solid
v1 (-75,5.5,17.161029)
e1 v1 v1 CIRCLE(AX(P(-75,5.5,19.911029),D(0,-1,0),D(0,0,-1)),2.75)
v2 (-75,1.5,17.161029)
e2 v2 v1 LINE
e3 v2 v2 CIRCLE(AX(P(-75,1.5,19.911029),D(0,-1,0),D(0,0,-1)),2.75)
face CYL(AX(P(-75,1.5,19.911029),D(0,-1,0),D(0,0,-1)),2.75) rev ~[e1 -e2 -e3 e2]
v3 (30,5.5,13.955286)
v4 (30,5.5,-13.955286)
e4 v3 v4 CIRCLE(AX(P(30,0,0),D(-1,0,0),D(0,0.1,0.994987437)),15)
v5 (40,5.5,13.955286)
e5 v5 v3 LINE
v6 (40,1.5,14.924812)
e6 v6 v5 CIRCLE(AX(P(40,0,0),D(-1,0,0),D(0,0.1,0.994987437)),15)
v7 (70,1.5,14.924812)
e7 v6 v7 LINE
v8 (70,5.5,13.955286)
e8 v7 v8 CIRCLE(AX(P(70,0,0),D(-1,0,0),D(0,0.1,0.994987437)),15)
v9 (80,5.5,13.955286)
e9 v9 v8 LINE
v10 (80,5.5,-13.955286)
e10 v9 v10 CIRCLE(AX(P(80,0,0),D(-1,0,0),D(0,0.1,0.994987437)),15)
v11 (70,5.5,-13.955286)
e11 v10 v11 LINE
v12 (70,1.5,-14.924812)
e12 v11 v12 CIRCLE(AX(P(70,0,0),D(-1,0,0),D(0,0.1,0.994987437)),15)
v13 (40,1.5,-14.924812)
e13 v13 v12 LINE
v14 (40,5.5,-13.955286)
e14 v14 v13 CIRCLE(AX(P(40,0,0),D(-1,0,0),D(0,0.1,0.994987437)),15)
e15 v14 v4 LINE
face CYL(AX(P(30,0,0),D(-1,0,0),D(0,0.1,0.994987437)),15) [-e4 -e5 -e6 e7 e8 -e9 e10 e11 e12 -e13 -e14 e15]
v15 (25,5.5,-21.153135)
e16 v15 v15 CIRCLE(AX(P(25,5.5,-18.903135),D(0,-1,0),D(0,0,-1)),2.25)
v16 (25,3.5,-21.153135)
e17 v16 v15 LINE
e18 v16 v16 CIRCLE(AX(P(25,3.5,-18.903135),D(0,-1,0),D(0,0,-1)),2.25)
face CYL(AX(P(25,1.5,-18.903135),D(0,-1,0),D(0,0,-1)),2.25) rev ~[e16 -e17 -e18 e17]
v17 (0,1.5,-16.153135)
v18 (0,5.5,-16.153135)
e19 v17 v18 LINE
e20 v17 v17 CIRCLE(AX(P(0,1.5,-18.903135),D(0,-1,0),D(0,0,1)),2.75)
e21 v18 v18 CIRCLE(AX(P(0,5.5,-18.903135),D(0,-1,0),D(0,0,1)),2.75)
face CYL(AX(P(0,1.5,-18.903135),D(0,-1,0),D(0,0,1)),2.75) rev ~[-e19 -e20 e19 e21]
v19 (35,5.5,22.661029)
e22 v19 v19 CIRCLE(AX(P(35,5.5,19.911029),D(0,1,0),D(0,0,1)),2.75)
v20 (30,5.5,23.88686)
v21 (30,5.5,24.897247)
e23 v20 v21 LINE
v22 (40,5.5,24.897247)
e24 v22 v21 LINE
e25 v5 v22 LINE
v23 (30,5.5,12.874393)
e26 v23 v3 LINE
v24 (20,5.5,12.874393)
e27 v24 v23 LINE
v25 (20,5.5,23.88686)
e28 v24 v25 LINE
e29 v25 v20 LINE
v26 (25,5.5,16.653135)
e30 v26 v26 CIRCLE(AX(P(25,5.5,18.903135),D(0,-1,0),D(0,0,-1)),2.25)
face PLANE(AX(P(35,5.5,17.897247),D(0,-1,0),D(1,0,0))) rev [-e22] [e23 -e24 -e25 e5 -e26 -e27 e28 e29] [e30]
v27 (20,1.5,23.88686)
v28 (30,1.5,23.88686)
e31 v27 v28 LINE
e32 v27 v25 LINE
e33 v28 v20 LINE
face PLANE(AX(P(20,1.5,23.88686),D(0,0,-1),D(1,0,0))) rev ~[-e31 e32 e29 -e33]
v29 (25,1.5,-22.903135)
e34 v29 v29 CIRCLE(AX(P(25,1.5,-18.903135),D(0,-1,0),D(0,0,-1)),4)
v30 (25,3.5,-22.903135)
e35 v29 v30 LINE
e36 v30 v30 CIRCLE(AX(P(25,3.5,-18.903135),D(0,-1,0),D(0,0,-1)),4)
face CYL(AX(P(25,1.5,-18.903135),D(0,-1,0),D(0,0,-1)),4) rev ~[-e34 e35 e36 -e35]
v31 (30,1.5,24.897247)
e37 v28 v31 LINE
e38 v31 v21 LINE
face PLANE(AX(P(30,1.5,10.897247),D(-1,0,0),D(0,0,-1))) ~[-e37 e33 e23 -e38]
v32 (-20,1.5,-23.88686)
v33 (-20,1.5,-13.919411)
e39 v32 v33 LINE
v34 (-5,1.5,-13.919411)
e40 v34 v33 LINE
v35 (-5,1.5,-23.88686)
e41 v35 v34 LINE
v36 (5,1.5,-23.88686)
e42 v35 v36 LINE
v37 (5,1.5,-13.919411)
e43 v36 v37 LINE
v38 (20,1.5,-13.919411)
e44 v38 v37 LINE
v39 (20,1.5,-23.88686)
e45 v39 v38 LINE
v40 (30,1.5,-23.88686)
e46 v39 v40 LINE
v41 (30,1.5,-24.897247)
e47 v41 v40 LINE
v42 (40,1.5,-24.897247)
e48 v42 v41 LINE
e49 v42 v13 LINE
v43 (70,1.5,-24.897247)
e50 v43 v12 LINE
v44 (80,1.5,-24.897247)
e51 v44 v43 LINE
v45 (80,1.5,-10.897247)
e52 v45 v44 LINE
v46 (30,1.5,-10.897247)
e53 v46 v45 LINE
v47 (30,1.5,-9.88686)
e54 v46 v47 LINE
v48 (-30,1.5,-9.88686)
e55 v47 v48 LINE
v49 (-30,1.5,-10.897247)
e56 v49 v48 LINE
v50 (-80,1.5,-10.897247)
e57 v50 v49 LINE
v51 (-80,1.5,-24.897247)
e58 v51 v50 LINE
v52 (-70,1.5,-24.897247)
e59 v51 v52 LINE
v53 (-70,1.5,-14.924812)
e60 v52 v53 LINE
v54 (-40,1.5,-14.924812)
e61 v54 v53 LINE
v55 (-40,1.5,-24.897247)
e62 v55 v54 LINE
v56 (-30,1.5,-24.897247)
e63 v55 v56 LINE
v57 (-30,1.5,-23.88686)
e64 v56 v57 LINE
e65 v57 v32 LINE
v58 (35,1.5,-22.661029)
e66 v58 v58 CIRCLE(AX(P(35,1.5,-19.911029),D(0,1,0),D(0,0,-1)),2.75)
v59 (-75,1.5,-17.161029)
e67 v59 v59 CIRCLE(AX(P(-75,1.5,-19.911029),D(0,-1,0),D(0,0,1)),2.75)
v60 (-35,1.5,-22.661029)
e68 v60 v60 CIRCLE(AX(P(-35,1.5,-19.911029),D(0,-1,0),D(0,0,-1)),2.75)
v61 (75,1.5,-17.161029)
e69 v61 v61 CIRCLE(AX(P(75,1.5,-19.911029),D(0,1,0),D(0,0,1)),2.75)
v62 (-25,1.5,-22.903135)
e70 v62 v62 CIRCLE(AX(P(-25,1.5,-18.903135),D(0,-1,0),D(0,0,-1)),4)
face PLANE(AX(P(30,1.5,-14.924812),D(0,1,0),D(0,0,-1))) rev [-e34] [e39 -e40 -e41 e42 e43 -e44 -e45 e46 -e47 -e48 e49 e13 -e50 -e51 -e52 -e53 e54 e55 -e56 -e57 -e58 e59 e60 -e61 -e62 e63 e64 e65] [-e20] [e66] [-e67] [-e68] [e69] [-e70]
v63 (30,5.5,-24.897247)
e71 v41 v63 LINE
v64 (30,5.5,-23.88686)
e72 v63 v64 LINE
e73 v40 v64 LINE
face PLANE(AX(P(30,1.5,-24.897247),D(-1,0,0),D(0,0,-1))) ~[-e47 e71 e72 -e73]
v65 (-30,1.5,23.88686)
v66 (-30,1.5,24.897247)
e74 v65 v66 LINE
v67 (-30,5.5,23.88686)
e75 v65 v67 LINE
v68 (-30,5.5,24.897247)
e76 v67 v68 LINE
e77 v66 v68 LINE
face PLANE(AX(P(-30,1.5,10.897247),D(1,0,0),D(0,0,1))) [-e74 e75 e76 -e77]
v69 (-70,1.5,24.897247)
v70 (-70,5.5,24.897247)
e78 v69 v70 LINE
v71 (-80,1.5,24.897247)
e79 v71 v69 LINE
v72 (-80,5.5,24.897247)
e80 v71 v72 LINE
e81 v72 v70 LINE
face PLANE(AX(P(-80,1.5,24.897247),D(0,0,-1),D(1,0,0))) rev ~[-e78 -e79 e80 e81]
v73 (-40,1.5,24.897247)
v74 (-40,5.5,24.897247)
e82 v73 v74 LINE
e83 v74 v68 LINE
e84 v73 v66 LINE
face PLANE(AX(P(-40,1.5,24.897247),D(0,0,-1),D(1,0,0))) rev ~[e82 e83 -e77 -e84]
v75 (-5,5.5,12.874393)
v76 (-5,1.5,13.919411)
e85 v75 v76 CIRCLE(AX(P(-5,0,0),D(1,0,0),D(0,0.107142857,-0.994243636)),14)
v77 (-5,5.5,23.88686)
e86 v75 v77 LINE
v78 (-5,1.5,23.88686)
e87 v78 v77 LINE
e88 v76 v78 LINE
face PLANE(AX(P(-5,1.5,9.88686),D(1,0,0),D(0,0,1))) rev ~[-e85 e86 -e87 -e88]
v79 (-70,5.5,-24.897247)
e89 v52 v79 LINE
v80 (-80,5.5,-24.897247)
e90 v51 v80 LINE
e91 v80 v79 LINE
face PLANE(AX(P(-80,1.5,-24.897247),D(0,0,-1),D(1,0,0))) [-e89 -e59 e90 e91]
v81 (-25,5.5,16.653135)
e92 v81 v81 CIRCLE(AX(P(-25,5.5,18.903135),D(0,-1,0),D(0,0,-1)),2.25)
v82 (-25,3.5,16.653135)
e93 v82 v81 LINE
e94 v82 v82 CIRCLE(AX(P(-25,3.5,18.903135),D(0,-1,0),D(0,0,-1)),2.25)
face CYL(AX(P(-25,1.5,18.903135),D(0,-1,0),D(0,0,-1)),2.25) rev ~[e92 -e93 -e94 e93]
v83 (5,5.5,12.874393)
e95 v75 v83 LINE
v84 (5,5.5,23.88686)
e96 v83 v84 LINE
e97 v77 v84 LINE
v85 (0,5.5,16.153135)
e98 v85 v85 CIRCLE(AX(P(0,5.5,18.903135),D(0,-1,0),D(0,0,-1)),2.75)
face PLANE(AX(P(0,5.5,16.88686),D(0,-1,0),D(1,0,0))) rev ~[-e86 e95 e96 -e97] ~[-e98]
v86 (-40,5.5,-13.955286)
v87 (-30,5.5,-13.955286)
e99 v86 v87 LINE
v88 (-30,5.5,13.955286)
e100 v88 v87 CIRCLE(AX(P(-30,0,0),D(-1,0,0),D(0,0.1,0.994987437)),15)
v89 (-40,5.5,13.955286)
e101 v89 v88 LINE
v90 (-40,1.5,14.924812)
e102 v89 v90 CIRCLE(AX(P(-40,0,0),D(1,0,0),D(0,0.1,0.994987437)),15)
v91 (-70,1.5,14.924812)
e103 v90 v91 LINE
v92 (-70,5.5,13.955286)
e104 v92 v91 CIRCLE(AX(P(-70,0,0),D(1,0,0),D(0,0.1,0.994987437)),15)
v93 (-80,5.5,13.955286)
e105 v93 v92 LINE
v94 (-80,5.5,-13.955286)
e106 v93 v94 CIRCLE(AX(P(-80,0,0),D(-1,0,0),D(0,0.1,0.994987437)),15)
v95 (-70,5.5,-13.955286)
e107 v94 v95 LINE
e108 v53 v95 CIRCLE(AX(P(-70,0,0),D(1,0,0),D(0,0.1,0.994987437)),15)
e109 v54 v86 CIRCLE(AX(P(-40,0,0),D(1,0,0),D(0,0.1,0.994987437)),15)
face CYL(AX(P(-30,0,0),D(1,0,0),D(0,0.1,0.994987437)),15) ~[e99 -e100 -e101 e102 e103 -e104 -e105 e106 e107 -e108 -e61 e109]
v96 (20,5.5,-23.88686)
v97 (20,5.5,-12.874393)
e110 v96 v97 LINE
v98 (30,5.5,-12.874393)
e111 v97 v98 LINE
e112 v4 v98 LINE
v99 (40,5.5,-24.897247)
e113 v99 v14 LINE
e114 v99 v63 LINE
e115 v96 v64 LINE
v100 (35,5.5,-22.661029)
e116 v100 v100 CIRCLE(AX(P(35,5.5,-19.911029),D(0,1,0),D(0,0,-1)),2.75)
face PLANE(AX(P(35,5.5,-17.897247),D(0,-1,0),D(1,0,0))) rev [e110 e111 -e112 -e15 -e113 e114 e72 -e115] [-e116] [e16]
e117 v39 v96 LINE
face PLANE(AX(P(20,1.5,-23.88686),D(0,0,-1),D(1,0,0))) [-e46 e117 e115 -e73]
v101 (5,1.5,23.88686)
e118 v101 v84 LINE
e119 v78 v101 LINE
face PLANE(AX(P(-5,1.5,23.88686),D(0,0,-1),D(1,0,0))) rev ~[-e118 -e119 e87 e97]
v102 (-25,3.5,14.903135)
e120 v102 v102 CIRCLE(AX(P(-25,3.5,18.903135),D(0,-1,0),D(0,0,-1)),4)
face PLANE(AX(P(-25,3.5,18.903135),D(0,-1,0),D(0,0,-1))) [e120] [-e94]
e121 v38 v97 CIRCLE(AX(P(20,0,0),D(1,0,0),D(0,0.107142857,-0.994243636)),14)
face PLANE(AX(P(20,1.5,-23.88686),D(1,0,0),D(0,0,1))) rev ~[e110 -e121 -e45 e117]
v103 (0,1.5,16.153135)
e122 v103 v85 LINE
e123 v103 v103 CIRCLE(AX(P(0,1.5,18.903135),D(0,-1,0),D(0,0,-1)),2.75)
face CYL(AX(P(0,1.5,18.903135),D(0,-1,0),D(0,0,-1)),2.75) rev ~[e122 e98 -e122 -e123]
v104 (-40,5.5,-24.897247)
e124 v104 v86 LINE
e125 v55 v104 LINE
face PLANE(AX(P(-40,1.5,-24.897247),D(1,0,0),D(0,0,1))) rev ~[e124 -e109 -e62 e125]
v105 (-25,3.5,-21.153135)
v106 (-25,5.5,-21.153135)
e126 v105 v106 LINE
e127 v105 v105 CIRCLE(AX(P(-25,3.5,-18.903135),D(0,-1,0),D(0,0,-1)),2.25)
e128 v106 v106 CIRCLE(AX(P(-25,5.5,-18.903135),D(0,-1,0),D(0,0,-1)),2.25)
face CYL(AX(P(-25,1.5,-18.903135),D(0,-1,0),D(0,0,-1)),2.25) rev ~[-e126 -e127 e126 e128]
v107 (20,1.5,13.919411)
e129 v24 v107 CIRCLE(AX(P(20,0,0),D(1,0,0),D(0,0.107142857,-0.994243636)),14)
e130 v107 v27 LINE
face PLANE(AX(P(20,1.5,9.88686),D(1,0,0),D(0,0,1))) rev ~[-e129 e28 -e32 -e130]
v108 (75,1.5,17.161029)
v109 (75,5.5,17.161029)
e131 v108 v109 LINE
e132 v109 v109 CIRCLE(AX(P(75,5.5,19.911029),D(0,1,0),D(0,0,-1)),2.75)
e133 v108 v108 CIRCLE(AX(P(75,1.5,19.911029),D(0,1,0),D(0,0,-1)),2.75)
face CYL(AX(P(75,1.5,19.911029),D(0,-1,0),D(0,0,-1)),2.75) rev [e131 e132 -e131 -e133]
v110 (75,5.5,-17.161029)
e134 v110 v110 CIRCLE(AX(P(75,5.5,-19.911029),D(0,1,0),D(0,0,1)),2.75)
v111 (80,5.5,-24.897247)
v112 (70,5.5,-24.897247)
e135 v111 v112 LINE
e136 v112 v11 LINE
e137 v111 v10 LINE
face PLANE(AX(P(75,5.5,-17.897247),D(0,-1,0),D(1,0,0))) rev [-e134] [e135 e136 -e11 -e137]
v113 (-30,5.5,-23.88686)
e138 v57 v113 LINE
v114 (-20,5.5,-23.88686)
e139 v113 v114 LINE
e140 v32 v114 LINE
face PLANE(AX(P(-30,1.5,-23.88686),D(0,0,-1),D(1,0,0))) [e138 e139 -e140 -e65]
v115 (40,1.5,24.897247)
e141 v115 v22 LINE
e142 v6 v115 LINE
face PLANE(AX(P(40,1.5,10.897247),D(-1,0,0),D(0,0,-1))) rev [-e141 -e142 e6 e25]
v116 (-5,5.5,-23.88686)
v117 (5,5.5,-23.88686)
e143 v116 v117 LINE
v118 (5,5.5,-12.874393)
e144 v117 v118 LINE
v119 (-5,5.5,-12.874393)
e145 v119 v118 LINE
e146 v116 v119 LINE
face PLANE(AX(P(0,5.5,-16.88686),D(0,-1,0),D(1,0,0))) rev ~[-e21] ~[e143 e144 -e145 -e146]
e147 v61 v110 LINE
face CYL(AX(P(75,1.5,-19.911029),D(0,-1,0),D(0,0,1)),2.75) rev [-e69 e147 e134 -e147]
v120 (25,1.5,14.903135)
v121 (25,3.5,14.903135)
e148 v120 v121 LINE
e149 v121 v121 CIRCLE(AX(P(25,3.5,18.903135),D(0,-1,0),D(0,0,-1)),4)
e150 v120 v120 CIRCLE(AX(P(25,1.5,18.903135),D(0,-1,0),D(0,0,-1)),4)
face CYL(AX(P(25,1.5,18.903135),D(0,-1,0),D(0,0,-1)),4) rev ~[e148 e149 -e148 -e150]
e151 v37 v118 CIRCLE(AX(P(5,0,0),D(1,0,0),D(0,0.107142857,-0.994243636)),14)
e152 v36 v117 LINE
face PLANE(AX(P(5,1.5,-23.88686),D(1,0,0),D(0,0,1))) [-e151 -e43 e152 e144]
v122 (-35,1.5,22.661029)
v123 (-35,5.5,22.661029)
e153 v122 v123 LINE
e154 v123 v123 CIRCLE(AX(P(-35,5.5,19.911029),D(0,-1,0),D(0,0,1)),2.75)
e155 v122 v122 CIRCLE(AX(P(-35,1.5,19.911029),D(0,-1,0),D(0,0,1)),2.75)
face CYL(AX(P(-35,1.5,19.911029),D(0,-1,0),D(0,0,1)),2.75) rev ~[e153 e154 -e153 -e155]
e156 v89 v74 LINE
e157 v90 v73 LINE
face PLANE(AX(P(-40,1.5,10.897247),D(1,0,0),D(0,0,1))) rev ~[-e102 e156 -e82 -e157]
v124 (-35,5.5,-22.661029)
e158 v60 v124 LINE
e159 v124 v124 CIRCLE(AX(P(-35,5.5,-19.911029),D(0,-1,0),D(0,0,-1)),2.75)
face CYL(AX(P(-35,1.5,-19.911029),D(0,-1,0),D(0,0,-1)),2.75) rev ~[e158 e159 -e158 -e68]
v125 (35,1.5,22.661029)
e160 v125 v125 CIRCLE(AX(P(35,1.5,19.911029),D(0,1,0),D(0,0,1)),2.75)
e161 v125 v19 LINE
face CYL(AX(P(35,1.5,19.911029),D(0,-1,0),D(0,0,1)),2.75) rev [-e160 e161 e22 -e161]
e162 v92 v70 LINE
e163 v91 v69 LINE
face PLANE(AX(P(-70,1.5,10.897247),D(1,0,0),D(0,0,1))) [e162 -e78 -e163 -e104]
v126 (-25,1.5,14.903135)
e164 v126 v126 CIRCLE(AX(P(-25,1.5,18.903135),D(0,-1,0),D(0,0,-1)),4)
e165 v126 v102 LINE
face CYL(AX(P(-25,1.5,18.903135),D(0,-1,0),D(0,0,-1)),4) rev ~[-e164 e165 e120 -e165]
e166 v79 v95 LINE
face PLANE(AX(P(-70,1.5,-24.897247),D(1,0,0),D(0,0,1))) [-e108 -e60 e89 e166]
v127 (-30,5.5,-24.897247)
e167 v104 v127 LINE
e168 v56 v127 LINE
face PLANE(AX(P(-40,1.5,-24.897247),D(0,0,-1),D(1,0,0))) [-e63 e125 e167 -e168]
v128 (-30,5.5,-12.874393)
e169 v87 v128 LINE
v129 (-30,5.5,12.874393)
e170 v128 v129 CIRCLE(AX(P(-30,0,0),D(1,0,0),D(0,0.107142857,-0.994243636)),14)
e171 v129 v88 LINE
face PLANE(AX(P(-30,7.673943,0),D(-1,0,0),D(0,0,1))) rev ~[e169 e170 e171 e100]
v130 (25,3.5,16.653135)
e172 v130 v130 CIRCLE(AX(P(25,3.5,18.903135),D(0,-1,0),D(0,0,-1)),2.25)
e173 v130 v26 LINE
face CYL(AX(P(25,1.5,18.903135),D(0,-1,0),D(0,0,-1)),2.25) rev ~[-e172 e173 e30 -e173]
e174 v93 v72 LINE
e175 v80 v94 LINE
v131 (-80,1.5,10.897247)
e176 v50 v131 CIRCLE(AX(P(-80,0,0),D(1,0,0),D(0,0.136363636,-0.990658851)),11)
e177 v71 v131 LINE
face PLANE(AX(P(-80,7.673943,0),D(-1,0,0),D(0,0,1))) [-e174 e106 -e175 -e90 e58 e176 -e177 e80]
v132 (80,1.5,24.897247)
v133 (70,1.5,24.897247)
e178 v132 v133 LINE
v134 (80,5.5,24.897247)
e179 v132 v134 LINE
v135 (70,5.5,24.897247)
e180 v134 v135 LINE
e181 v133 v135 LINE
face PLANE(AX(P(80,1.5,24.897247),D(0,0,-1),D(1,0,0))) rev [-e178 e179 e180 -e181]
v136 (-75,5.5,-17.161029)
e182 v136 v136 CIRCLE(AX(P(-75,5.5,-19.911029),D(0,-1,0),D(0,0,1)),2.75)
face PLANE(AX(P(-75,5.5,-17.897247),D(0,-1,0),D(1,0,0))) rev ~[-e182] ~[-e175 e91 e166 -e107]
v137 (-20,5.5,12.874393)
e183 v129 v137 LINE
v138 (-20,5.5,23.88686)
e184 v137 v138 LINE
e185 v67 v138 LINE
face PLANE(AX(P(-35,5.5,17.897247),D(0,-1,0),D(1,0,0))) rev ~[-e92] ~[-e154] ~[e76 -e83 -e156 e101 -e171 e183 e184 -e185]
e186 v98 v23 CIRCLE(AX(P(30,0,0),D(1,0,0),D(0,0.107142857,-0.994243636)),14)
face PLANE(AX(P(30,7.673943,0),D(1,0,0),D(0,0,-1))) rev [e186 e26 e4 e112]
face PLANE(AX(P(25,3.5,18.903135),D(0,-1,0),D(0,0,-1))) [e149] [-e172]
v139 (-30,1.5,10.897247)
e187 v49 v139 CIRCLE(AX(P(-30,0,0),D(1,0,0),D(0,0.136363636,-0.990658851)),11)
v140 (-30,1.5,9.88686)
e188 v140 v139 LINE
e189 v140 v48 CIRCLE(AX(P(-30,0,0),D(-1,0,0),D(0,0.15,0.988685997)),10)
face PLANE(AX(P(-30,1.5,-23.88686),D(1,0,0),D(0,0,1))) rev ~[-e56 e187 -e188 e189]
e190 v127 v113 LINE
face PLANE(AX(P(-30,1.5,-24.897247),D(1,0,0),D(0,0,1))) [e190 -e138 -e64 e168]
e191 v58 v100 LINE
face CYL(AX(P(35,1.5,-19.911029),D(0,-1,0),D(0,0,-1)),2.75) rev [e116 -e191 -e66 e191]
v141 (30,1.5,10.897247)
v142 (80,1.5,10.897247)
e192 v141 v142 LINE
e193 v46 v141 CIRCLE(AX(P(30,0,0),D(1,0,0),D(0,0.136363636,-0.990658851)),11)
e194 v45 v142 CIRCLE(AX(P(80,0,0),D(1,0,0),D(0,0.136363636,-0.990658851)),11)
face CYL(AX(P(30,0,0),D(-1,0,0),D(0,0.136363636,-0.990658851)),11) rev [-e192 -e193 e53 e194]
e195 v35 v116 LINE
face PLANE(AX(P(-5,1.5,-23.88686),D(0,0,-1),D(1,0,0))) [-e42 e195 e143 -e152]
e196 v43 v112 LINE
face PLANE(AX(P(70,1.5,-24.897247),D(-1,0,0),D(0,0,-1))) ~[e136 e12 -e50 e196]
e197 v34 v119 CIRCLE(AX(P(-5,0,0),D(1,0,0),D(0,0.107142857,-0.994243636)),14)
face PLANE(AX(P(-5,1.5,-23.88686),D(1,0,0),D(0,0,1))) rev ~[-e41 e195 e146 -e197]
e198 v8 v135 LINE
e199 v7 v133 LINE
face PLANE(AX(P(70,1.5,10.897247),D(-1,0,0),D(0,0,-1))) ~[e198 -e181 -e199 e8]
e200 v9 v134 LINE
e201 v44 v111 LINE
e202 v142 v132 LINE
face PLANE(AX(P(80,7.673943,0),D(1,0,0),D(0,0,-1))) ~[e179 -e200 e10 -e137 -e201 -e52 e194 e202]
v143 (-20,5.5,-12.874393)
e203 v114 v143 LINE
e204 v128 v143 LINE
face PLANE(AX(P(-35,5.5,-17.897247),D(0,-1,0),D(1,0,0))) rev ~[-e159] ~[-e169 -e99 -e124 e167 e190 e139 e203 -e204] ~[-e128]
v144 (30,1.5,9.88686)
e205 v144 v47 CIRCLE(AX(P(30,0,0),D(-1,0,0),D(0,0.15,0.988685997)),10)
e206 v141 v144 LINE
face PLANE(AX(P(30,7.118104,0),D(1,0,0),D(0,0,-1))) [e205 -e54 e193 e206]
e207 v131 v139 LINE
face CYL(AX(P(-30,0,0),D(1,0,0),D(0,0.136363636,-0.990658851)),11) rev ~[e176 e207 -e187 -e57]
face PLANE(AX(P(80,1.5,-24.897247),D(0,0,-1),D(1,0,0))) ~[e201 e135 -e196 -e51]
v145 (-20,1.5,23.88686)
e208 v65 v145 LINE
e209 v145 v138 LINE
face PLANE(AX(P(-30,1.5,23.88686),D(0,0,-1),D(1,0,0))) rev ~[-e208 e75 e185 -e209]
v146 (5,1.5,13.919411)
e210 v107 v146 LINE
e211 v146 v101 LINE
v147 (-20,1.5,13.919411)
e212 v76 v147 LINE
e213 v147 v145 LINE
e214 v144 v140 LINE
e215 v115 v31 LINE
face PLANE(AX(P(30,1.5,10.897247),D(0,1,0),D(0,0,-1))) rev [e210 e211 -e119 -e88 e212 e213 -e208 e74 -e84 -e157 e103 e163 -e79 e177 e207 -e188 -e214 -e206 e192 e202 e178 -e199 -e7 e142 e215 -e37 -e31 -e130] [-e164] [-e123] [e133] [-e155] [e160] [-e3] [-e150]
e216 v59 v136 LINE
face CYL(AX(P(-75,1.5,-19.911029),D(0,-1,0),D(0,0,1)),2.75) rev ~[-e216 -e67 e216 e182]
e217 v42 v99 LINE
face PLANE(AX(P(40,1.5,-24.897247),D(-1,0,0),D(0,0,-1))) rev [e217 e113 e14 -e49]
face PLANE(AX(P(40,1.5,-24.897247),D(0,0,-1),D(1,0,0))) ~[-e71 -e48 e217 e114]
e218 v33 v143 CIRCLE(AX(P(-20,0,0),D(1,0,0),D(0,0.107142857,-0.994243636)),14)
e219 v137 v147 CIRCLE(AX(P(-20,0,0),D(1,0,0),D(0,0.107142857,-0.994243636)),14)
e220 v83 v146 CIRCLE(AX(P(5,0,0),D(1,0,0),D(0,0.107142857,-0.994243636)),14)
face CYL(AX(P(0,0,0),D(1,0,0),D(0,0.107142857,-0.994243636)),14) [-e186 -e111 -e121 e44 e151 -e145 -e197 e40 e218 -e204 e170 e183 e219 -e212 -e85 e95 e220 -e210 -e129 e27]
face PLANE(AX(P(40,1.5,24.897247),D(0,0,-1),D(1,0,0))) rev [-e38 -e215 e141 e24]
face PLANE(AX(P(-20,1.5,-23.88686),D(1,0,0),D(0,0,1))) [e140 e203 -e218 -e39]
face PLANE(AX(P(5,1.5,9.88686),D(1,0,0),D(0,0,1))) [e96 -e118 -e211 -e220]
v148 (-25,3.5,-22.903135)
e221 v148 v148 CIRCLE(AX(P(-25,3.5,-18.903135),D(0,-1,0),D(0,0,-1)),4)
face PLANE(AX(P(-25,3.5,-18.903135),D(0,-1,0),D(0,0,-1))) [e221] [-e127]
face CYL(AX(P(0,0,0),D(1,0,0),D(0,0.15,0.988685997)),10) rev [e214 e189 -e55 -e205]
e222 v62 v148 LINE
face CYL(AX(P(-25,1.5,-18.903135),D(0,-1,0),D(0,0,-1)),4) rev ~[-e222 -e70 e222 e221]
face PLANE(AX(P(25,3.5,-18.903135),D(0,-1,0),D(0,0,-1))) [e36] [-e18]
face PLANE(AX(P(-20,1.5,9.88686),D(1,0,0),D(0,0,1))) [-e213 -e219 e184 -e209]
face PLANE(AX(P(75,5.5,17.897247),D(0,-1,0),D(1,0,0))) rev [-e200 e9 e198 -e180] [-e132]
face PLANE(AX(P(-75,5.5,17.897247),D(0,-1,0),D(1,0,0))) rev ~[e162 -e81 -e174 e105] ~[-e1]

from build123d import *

# Parameters (mm, degrees)
BOSS_EXTRUDE2_DEPTH = 30
SKETCH2_W           = 10
SKETCH2_H           = 14
SKETCH2_R           = 2.25
SKETCH2_R_2         = 2.75
BOSS_EXTRUDE3_DEPTH = 4
SKETCH6_R           = 4
CUT_EXTRUDE1_DEPTH  = 2
BOSS_EXTRUDE4_DEPTH = 50
SKETCH8_W           = 10
SKETCH8_H           = 14
SKETCH8_R           = 2.75
BOSS_EXTRUDE5_DEPTH = 4


with BuildPart() as part:
    # Sketch1 → Boss-Extrude2 (new, symmetric)
    with BuildSketch(Plane(origin=(0, 0, 0), x_dir=(0, 0, -1), z_dir=(1, 0, 0))):
        with BuildLine():
            Line((-13.919410907, 1.5), (-9.886859967, 1.5))
            ThreePointArc((-9.886859967, 1.5), (0, 10), (9.886859967, 1.5))
            Line((9.886859967, 1.5), (13.919410907, 1.5))
            ThreePointArc((13.919410907, 1.5), (0, 14), (-13.919410907, 1.5))
        make_face()
    extrude(amount=BOSS_EXTRUDE2_DEPTH, both=True)

    # Sketch2 → Boss-Extrude3 (add)
    # profile 1 of 6: a face of its own
    with BuildSketch(Plane.XZ.offset(-1.5)):
        with Locations((-25, -16.886859967)):
            Rectangle(SKETCH2_W, SKETCH2_H)
        with Locations(Location((-25, -18.903135437, 0), (0, 0, 270))):
            Circle(SKETCH2_R, mode=Mode.SUBTRACT)
    # profile 2 of 6: a face of its own
    with BuildSketch(Plane.XZ.offset(-1.5)):
        with Locations((25, -16.886859967)):
            Rectangle(SKETCH2_W, SKETCH2_H)
        with Locations(Location((25, -18.903135437, 0), (0, 0, 270))):
            Circle(SKETCH2_R, mode=Mode.SUBTRACT)
    # profile 3 of 6: a face of its own
    with BuildSketch(Plane.XZ.offset(-1.5)):
        with Locations((-25, 16.886859967)):
            Rectangle(SKETCH2_W, SKETCH2_H)
        with Locations(Location((-25, 18.903135437, 0), (0, 0, 270))):
            Circle(SKETCH2_R, mode=Mode.SUBTRACT)
    # profile 4 of 6: a face of its own
    with BuildSketch(Plane.XZ.offset(-1.5)):
        with Locations((25, 16.886859967)):
            Rectangle(SKETCH2_W, SKETCH2_H)
        with Locations(Location((25, 18.903135437, 0), (0, 0, 270))):
            Circle(SKETCH2_R, mode=Mode.SUBTRACT)
    # profile 5 of 6: a face of its own
    with BuildSketch(Plane.XZ.offset(-1.5)):
        with Locations((0, 16.886859967)):
            Rectangle(SKETCH2_W, SKETCH2_H)
        with Locations(Location((0, 18.903135437, 0), (0, 0, 270))):
            Circle(SKETCH2_R_2, mode=Mode.SUBTRACT)
    # profile 6 of 6: a face of its own
    with BuildSketch(Plane.XZ.offset(-1.5)):
        with Locations((0, -16.886859967)):
            Rectangle(SKETCH2_W, SKETCH2_H)
        with Locations(Location((0, -18.903135437, 0), (0, 0, 90))):
            Circle(SKETCH2_R_2, mode=Mode.SUBTRACT)
    extrude(amount=-BOSS_EXTRUDE3_DEPTH)

    # Sketch6 → Cut-Extrude1 (cut)
    with BuildSketch(Plane.XZ.offset(-1.5)):
        with Locations(Location((-25, 18.903135437, 0), (0, 0, 270))):
            Circle(SKETCH6_R)
        with Locations(Location((25, -18.903135437, 0), (0, 0, 270))):
            Circle(SKETCH6_R)
        with Locations(Location((-25, -18.903135437, 0), (0, 0, 270))):
            Circle(SKETCH6_R)
        with Locations(Location((25, 18.903135437, 0), (0, 0, 270))):
            Circle(SKETCH6_R)
    extrude(amount=-CUT_EXTRUDE1_DEPTH, mode=Mode.SUBTRACT)

    # Sketch7 → Boss-Extrude4 (add)
    with BuildSketch(Plane.ZY.offset(30)):
        with BuildLine():
            Line((-14.924811557, 1.5), (-10.897247359, 1.5))
            ThreePointArc((-10.897247359, 1.5), (0, 11), (10.897247359, 1.5))
            Line((10.897247359, 1.5), (14.924811557, 1.5))
            ThreePointArc((14.924811557, 1.5), (0, 15), (-14.924811557, 1.5))
        make_face()
    boss_extrude4 = extrude(amount=BOSS_EXTRUDE4_DEPTH)

    # Sketch8 → Boss-Extrude5 (add)
    # profile 1 of 4: a face of its own
    with BuildSketch(Plane.XZ.offset(-1.5)):
        with Locations((-75, 17.897247359)):
            Rectangle(SKETCH8_W, SKETCH8_H)
        with Locations(Location((-75, 19.911029458, 0), (0, 0, 270))):
            Circle(SKETCH8_R, mode=Mode.SUBTRACT)
    # profile 2 of 4: a face of its own
    with BuildSketch(Plane.XZ.offset(-1.5)):
        with Locations((-35, 17.897247359)):
            Rectangle(SKETCH8_W, SKETCH8_H)
        with Locations(Location((-35, 19.911029458, 0), (0, 0, 90))):
            Circle(SKETCH8_R, mode=Mode.SUBTRACT)
    # profile 3 of 4: a face of its own
    with BuildSketch(Plane.XZ.offset(-1.5)):
        with Locations((-75, -17.897247359)):
            Rectangle(SKETCH8_W, SKETCH8_H)
        with Locations(Location((-75, -19.911029458, 0), (0, 0, 90))):
            Circle(SKETCH8_R, mode=Mode.SUBTRACT)
    # profile 4 of 4: a face of its own
    with BuildSketch(Plane.XZ.offset(-1.5)):
        with Locations((-35, -17.897247359)):
            Rectangle(SKETCH8_W, SKETCH8_H)
        with Locations(Location((-35, -19.911029458, 0), (0, 0, 270))):
            Circle(SKETCH8_R, mode=Mode.SUBTRACT)
    boss_extrude5 = extrude(amount=-BOSS_EXTRUDE5_DEPTH)

    # Mirror1: Boss-Extrude4, Boss-Extrude5 across plane
    add(boss_extrude4.mirror(Plane(origin=(0, 0, 0), x_dir=(0, 0, 1), z_dir=(1, 0, 0))))
    add(boss_extrude5.mirror(Plane(origin=(0, 0, 0), x_dir=(0, 0, 1), z_dir=(1, 0, 0))))


solid = part.part
